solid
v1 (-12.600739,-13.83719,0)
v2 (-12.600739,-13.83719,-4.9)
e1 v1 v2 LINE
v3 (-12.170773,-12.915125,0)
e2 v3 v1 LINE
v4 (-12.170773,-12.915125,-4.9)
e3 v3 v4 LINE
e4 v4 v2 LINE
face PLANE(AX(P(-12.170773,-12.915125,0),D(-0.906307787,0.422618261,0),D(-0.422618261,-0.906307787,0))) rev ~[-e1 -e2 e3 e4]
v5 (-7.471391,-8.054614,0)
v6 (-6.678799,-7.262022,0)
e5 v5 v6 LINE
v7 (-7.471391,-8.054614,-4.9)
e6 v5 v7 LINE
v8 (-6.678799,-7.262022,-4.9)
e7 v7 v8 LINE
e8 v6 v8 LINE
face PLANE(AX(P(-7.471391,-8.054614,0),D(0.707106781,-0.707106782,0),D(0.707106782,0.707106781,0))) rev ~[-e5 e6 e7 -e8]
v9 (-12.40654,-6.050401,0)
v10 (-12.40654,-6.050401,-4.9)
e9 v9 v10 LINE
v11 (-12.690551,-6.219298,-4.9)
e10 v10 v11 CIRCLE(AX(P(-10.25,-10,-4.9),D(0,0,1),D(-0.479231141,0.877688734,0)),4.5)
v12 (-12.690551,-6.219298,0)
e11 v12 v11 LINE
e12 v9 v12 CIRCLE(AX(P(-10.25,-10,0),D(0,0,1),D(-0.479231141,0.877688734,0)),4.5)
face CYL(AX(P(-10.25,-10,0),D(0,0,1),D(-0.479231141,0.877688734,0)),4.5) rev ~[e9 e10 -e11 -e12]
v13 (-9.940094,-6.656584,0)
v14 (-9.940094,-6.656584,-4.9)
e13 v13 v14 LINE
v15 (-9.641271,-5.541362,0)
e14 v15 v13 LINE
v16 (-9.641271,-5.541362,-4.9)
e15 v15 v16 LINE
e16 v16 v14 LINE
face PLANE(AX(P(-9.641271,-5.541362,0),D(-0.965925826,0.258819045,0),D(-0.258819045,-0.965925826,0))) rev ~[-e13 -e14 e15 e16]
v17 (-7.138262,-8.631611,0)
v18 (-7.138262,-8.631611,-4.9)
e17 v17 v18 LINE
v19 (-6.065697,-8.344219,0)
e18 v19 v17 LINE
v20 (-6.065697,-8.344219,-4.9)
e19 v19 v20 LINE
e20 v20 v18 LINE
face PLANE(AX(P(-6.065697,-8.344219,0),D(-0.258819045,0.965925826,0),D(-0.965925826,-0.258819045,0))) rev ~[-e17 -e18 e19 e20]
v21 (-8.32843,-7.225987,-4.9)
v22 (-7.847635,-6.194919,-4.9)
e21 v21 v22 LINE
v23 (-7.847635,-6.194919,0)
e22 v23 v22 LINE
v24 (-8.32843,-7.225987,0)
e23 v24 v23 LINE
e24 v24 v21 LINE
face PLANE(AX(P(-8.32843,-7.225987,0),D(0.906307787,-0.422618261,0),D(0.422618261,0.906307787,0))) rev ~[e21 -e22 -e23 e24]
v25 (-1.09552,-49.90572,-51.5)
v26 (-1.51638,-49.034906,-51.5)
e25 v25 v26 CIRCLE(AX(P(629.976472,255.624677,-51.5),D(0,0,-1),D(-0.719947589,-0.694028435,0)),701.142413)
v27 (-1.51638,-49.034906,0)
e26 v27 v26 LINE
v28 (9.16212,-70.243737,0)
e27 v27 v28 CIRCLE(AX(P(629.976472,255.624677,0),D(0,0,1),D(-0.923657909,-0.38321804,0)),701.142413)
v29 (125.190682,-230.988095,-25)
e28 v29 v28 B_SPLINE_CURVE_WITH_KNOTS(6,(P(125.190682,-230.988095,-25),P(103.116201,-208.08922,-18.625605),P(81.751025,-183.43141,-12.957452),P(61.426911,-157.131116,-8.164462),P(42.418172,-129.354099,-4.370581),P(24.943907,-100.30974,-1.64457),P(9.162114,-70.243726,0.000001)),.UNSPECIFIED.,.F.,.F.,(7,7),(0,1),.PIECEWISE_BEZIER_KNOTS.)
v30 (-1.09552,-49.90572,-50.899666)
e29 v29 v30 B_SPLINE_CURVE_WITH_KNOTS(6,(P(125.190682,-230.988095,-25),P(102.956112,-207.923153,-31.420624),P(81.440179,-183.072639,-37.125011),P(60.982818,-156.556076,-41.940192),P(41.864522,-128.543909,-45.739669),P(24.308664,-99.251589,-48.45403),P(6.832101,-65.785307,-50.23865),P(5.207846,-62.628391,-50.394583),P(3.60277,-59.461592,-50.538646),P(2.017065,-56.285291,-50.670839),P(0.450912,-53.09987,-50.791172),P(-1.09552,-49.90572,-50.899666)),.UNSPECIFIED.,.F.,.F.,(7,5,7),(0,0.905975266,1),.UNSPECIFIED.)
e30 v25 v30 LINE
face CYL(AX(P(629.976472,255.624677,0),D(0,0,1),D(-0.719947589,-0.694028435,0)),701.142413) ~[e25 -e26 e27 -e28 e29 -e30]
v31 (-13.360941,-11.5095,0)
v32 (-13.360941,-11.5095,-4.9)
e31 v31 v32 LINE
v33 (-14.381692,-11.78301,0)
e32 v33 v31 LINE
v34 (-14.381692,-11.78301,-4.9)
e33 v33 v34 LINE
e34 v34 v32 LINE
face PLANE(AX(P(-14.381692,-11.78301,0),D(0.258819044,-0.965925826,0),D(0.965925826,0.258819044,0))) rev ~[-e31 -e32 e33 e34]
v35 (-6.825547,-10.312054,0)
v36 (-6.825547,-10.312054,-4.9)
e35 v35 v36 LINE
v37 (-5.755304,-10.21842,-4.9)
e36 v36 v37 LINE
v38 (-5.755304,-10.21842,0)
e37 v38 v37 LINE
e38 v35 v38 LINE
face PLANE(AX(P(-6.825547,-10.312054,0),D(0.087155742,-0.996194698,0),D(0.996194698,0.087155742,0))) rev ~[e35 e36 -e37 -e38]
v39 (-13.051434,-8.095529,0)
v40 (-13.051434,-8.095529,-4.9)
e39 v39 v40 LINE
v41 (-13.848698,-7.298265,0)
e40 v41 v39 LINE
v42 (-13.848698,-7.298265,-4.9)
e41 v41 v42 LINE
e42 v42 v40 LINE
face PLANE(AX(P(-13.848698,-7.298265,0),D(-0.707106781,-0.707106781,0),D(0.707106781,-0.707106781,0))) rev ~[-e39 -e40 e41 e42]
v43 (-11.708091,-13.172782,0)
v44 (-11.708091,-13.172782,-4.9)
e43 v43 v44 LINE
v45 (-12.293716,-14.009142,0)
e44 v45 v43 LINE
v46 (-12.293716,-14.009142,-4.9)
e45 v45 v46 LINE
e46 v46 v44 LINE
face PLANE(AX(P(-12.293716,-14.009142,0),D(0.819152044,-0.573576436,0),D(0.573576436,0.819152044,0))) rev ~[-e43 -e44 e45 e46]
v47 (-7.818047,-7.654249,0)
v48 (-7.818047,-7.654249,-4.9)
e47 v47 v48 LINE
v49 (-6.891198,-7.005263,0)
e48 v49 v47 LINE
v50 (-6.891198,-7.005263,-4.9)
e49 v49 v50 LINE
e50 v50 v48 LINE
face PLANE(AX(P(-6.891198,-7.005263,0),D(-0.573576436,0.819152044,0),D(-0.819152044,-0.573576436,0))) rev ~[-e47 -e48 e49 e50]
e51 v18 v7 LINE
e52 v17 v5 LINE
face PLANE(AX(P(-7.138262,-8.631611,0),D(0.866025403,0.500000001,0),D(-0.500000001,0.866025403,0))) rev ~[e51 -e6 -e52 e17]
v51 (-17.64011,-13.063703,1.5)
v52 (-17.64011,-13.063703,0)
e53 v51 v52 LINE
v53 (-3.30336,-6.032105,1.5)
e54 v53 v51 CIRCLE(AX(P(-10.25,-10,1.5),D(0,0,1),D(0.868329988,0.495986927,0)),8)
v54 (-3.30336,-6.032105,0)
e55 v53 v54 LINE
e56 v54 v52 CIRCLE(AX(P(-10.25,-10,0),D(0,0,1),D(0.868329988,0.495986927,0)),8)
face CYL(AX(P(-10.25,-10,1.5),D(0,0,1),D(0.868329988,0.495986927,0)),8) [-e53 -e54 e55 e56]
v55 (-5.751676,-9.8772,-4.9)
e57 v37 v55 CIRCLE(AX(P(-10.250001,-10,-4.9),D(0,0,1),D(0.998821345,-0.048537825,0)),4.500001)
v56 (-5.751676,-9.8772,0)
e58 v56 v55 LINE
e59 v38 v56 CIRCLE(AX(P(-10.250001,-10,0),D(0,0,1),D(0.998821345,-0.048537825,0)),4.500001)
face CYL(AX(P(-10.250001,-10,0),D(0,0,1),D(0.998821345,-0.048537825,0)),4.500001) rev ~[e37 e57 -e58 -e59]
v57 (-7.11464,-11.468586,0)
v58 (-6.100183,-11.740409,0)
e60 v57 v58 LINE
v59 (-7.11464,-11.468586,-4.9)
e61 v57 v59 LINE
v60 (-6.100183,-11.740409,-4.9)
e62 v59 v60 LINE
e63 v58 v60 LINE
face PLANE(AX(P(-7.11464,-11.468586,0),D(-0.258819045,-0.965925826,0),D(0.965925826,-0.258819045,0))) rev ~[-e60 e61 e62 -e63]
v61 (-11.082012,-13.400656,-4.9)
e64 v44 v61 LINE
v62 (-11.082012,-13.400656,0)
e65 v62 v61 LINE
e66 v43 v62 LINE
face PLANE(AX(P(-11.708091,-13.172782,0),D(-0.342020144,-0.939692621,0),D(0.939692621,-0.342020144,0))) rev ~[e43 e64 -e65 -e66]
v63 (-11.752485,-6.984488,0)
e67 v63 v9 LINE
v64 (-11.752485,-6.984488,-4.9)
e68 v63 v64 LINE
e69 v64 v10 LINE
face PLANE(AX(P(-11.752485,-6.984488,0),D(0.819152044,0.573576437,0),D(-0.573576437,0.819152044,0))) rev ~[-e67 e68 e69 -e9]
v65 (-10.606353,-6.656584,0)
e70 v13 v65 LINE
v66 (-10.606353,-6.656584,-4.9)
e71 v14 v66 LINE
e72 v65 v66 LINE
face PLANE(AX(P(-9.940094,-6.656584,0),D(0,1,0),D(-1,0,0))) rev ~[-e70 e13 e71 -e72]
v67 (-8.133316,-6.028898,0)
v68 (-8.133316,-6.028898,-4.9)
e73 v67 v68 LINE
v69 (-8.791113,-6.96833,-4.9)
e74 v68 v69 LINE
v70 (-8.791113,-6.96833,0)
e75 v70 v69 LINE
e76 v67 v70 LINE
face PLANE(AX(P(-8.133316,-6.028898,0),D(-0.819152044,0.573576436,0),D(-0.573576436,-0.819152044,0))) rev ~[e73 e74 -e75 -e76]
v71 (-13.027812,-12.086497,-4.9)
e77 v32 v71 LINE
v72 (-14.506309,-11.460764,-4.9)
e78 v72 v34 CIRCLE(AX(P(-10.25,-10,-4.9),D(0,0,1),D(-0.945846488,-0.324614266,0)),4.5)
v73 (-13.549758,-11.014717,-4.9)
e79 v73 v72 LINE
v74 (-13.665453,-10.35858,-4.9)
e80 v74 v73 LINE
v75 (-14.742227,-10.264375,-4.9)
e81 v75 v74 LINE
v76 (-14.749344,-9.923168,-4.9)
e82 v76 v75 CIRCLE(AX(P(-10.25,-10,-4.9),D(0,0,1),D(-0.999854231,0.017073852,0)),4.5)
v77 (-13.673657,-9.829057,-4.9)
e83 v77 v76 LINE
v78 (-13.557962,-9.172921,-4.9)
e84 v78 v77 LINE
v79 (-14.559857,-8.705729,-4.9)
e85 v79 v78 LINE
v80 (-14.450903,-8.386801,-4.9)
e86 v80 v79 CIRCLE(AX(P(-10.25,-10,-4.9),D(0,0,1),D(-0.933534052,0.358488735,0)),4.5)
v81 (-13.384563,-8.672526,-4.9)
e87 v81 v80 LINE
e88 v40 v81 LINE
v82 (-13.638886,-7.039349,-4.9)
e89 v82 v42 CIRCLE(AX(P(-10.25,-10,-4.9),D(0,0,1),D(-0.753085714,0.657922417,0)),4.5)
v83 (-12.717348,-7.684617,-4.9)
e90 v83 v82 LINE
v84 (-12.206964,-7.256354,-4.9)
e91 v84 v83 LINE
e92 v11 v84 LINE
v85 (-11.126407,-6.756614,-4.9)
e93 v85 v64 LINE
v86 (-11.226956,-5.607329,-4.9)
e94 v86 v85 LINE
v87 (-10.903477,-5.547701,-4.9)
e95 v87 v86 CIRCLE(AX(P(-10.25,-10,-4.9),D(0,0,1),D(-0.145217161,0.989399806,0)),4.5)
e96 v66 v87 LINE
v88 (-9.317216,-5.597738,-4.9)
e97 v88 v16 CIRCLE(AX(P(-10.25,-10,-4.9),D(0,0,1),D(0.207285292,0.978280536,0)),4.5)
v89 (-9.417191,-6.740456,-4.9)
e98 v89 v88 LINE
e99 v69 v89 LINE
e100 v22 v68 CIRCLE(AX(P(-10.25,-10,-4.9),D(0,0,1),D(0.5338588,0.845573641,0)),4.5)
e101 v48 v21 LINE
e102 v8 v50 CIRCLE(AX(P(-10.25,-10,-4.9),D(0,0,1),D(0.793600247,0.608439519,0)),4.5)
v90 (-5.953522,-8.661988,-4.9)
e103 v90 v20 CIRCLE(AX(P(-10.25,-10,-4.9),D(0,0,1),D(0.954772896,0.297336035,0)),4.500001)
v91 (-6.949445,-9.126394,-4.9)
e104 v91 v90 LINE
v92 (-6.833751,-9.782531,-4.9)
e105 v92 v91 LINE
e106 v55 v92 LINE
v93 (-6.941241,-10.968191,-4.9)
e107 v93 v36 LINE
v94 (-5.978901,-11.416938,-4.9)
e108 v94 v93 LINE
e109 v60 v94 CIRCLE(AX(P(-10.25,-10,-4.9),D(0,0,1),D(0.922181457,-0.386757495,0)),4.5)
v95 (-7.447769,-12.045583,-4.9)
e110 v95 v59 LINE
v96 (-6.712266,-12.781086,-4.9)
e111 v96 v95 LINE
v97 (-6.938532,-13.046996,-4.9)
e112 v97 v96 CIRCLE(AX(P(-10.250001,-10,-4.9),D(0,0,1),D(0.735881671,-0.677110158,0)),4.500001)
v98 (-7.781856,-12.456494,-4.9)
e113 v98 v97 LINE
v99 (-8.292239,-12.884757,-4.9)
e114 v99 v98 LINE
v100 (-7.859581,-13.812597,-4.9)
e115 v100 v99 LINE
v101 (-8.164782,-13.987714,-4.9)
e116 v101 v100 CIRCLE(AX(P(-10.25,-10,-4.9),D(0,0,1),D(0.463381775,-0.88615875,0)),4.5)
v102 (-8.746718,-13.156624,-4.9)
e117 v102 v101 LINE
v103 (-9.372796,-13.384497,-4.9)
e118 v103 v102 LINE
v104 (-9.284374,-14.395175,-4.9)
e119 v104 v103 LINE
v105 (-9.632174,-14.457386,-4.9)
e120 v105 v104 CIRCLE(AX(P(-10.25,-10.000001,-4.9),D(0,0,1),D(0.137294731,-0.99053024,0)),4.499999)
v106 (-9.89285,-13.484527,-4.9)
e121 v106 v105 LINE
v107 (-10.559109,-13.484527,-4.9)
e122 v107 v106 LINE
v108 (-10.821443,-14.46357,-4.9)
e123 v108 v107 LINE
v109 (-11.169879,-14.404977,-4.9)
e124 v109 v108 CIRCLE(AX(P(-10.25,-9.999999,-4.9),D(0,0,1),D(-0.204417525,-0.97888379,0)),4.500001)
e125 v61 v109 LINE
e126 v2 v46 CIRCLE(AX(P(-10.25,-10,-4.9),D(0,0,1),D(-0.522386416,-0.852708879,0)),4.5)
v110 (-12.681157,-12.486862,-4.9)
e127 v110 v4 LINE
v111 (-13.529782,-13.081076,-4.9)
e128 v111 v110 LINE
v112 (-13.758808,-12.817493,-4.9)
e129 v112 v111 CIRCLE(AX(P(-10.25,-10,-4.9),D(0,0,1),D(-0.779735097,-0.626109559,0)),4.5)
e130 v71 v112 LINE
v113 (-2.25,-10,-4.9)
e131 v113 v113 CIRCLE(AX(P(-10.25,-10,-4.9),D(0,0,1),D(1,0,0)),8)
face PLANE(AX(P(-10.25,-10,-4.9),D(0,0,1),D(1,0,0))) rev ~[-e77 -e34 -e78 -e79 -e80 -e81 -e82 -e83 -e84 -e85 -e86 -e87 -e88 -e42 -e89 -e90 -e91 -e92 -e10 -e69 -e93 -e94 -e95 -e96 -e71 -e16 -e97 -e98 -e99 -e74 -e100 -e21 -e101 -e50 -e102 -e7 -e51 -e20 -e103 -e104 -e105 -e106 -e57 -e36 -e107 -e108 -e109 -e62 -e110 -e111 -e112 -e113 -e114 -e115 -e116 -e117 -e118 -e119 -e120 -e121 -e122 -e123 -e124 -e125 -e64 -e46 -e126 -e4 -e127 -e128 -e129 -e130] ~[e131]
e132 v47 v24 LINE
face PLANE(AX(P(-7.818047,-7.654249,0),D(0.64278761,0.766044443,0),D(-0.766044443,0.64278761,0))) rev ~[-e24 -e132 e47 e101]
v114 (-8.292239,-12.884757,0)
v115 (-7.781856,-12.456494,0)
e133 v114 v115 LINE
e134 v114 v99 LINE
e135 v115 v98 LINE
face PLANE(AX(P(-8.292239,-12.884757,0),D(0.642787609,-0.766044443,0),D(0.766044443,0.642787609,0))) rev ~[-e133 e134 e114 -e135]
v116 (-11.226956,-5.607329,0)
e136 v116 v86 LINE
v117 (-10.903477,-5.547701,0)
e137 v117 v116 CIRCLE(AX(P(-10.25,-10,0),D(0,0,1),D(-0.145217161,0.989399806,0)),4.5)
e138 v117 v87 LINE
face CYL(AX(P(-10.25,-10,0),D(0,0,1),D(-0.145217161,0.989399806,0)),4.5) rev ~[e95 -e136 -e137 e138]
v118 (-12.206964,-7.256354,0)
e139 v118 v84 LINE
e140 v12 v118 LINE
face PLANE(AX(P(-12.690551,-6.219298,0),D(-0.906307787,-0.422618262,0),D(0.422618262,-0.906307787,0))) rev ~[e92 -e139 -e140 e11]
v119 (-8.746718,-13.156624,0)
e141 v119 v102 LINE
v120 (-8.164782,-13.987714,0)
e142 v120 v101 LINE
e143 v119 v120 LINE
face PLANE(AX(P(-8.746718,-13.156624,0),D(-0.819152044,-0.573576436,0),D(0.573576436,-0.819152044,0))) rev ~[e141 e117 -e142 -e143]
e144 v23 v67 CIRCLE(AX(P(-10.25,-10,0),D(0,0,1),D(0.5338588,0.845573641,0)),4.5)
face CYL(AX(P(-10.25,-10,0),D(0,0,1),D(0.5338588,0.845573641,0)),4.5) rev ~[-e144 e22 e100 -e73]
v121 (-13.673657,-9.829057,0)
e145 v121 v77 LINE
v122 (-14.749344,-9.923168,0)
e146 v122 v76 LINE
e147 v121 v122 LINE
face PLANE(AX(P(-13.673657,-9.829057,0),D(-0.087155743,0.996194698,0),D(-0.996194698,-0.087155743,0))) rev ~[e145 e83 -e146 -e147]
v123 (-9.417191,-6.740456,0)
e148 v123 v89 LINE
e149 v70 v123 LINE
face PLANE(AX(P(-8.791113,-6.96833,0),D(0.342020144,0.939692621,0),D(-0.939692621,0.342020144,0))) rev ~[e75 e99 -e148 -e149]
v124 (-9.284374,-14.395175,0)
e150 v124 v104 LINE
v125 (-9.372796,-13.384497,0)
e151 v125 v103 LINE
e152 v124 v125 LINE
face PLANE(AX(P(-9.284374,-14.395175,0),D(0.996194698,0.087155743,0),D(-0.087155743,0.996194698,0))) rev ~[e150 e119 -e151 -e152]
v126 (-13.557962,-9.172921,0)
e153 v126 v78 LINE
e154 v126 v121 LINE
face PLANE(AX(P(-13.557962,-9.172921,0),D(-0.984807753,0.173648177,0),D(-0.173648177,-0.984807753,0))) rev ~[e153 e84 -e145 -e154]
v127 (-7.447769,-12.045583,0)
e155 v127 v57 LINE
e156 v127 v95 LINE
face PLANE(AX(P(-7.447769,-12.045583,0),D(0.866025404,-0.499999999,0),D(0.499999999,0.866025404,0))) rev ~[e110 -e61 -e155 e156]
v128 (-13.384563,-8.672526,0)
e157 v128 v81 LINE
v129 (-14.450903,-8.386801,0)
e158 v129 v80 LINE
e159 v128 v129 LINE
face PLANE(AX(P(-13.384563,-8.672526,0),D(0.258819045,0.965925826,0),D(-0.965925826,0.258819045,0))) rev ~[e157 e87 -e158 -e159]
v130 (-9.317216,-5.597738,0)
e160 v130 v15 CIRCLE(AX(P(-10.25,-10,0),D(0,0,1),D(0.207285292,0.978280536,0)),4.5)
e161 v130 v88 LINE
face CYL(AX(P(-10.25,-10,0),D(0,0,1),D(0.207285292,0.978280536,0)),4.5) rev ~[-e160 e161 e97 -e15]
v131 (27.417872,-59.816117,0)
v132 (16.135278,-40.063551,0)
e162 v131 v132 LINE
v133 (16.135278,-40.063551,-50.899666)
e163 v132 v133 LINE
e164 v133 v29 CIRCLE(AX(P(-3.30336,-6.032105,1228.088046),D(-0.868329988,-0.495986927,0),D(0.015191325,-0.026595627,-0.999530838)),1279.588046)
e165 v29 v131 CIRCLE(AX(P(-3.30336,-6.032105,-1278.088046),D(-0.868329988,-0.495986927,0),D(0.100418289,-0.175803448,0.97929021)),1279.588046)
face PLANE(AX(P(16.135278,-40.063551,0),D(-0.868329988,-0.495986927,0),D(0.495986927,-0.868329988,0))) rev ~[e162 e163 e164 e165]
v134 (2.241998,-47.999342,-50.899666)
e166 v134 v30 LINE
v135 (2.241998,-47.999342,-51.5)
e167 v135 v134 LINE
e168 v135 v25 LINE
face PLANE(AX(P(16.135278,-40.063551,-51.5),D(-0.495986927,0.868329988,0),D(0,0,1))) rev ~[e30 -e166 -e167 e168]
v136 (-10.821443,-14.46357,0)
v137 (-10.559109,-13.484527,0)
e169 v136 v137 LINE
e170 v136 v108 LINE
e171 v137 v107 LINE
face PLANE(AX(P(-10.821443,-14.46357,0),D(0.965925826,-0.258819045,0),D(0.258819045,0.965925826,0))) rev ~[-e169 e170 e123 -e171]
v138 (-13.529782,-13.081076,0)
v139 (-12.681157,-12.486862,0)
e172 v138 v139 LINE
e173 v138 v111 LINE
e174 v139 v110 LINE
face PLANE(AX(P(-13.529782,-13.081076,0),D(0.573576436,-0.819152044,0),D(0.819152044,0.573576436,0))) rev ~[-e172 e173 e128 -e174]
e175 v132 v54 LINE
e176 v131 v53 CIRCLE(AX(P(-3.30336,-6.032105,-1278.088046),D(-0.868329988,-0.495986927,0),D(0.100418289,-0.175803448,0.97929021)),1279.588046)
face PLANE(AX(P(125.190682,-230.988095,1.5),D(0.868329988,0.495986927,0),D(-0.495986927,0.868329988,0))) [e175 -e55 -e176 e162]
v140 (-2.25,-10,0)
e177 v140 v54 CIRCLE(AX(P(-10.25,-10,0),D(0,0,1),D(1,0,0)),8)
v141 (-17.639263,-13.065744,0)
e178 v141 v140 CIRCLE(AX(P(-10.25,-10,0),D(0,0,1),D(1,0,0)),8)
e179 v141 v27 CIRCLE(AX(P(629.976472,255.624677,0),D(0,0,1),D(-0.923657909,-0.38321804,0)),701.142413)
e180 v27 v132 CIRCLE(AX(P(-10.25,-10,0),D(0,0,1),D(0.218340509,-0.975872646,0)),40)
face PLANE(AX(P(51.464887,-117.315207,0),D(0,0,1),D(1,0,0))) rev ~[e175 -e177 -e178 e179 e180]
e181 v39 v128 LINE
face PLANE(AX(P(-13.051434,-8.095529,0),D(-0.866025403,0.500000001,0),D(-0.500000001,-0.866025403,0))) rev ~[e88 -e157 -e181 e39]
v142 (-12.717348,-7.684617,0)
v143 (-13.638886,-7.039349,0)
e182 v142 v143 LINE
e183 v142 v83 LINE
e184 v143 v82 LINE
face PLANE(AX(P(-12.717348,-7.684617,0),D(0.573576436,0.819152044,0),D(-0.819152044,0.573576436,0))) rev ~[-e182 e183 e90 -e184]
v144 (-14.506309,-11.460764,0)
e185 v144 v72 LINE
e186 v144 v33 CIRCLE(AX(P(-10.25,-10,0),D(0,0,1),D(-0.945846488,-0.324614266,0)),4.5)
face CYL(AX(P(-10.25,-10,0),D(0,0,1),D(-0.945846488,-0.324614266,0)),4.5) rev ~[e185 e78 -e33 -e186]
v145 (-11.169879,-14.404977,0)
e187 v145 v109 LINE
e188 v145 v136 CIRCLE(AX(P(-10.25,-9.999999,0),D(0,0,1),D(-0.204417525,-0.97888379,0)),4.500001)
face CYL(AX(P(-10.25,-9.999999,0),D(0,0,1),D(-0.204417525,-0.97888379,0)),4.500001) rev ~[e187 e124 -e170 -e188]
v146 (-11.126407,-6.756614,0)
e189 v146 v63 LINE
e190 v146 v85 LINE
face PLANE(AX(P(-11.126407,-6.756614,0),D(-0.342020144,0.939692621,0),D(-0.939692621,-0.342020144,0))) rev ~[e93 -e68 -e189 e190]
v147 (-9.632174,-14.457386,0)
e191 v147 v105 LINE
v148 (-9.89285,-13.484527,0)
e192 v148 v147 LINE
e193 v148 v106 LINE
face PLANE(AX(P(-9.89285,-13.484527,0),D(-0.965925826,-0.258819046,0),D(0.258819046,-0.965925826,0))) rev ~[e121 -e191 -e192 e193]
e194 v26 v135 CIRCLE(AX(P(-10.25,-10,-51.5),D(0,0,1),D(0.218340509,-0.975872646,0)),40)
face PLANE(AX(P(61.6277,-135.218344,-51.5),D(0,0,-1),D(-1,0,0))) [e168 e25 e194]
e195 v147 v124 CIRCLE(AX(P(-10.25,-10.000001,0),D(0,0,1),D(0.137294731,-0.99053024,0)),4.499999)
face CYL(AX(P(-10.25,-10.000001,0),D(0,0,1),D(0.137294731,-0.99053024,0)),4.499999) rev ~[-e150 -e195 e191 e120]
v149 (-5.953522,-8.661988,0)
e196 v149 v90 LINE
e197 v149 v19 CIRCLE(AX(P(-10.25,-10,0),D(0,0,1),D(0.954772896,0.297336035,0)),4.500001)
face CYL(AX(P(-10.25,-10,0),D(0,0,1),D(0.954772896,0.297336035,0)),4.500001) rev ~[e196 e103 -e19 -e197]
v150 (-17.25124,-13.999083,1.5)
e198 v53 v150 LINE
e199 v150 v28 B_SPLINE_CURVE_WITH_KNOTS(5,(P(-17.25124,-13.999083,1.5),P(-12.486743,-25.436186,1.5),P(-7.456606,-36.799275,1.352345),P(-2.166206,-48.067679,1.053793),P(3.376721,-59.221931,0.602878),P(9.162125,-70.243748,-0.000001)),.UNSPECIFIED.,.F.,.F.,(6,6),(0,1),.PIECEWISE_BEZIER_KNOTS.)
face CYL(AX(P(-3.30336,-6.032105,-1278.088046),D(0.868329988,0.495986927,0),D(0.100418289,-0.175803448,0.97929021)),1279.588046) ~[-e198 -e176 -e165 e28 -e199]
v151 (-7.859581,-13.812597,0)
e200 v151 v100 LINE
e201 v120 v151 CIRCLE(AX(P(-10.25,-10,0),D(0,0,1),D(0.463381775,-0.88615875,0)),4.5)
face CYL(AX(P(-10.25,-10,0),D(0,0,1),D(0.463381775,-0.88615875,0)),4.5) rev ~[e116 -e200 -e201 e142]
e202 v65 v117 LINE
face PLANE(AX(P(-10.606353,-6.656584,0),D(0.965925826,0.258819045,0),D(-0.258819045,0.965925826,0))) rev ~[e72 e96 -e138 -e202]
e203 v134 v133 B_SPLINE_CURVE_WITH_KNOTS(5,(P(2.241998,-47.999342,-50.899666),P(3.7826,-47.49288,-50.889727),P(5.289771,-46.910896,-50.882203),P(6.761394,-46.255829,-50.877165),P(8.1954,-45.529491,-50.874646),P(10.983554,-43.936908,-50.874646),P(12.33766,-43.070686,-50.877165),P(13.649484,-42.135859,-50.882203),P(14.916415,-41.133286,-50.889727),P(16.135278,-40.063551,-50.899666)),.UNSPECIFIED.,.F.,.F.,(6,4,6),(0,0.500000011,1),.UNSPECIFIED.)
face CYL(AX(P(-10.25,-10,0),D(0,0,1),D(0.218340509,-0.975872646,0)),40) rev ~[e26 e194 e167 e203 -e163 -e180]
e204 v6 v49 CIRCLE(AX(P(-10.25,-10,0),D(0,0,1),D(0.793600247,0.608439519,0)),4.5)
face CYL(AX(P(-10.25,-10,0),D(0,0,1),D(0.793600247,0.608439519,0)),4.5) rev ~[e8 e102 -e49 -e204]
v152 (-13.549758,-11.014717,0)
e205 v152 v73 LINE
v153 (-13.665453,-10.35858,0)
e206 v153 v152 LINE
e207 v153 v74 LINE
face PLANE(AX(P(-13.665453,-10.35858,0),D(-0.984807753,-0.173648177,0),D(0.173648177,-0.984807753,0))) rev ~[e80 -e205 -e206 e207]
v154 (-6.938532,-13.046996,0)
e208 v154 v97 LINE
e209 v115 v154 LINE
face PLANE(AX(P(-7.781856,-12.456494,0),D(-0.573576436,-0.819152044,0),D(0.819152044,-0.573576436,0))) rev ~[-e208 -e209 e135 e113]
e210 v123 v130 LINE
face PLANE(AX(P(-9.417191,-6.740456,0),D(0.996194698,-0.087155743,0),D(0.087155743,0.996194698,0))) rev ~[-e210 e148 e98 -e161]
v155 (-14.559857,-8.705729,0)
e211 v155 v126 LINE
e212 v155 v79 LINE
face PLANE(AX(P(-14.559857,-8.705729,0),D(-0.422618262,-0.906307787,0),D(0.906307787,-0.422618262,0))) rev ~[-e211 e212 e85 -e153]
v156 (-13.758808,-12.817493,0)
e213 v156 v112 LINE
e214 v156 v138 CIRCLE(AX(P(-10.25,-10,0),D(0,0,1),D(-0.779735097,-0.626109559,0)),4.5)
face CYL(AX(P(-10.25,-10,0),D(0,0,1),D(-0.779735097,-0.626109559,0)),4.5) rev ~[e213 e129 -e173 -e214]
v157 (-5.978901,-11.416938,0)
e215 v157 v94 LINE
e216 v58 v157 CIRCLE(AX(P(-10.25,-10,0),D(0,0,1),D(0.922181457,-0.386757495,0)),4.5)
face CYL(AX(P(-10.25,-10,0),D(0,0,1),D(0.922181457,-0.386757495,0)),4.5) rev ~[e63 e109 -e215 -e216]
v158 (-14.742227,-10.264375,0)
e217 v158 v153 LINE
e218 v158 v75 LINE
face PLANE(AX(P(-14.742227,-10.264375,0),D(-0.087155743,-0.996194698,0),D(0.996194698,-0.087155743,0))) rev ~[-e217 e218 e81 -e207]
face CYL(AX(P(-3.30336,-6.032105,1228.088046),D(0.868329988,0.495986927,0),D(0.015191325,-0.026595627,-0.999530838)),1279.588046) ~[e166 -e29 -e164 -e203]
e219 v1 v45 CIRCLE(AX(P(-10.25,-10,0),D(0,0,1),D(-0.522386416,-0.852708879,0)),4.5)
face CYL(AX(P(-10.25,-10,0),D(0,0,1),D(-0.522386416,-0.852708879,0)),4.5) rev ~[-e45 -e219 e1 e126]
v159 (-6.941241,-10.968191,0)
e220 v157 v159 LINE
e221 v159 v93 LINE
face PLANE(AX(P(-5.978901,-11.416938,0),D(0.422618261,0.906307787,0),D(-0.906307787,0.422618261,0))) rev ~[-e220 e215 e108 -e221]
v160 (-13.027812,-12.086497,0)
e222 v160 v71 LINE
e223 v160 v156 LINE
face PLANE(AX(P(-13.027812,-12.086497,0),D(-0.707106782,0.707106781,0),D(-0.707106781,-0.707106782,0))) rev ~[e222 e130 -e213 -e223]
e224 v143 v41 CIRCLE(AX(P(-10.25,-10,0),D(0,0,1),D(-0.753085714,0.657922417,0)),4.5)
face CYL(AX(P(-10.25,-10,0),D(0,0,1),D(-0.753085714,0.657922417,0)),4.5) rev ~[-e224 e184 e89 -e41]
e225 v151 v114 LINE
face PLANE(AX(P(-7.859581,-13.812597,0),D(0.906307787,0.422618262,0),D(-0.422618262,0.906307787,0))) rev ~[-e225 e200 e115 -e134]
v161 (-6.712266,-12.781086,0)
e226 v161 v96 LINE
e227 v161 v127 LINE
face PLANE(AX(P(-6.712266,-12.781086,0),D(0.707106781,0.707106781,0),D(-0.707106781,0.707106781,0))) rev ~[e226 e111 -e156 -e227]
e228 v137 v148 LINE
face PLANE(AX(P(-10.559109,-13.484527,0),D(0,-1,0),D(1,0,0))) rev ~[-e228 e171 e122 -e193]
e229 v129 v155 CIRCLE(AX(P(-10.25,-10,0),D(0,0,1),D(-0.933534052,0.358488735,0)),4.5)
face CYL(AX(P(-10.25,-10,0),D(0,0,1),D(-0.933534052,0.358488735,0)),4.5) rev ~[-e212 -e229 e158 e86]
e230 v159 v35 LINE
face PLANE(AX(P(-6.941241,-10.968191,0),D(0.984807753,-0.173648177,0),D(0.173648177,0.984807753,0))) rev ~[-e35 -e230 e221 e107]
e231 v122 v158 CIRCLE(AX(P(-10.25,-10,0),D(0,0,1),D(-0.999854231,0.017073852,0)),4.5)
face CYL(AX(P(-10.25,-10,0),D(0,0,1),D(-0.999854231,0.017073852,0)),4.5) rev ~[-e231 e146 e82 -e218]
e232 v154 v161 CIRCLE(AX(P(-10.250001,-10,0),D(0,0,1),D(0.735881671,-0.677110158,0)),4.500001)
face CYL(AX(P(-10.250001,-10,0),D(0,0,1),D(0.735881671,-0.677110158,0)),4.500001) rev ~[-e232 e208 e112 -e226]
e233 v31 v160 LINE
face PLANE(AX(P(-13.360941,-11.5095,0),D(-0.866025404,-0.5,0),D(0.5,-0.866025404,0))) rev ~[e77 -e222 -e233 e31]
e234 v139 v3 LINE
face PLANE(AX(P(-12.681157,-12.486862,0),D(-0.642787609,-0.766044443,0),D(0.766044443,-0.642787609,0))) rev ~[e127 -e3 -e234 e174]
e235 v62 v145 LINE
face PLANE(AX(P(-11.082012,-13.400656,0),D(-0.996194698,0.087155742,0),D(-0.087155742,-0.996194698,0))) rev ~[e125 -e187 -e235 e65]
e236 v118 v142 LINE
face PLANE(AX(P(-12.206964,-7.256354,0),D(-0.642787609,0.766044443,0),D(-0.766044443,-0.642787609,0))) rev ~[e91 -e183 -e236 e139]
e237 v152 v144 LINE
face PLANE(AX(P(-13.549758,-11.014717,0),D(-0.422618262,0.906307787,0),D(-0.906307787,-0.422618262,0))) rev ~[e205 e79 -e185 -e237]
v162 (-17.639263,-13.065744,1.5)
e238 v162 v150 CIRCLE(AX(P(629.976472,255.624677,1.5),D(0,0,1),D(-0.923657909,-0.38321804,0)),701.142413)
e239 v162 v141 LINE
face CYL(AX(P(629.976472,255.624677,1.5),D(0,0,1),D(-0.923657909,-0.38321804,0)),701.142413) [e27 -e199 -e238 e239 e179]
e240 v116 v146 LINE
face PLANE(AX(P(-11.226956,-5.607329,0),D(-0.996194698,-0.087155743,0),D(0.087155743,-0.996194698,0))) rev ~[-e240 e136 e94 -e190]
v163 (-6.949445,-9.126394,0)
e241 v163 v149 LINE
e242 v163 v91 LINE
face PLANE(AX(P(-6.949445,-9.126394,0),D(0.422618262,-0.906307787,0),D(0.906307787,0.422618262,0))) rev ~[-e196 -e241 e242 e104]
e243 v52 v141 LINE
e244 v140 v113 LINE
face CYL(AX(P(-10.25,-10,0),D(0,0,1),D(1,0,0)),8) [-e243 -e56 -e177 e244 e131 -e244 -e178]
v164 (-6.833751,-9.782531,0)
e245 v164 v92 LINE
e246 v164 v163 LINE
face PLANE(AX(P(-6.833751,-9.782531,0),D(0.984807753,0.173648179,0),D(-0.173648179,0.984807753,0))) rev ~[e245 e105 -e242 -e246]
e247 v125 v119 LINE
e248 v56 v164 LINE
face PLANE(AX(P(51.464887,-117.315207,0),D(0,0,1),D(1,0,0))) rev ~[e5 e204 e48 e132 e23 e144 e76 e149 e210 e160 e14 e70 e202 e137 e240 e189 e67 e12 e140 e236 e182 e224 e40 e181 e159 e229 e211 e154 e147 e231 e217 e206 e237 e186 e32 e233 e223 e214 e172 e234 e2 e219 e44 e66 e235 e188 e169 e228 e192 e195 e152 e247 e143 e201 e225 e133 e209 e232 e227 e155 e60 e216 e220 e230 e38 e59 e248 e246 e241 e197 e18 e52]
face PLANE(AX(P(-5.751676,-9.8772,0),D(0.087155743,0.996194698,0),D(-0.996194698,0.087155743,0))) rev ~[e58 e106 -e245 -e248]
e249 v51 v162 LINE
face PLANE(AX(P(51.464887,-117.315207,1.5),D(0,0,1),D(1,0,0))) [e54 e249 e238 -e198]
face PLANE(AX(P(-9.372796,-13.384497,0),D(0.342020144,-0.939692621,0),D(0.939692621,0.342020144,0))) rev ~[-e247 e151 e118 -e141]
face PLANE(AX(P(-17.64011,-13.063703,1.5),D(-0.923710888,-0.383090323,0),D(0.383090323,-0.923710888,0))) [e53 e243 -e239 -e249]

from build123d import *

# Parameters (mm, degrees)
ESQUISSE1_R             = 8
BOSS_EXTRU_1_DEPTH      = 4.9
BOSS_EXTRU_2_START      = 1.5
BOSS_EXTRU_2_DEPTH      = 1.5
BOSS_EXTRU_3_DEPTH      = 51.5
ENL_V_MAT_EXTRU_1_DEPTH = 25


with BuildPart() as part:
    # Esquisse1 → Boss.-Extru.1 (new body)
    with BuildSketch(Plane.XY):
        with Locations((-10.25, -10)):
            Circle(ESQUISSE1_R)
        with BuildLine():
            Line((-5.751675839, -9.877200395), (-6.833750507, -9.782531128))
            Line((-6.833750507, -9.782531128), (-6.949445107, -9.126394451))
            Line((-6.949445107, -9.126394451), (-5.953521963, -8.661987862))
            ThreePointArc((-5.953521963, -8.661987862), (-6.006634107, -8.502052772), (-6.065697468, -8.344218516))
            Line((-6.065697468, -8.344218516), (-7.138261768, -8.631611254))
            Line((-7.138261768, -8.631611254), (-7.47139109, -8.054614344))
            Line((-7.47139109, -8.054614344), (-6.678798898, -7.262022153))
            ThreePointArc((-6.678798898, -7.262022153), (-6.782621037, -7.131675902), (-6.891198054, -7.005263035))
            Line((-6.891198054, -7.005263035), (-7.818046533, -7.654249327))
            Line((-7.818046533, -7.654249327), (-8.328430264, -7.225986526))
            Line((-8.328430264, -7.225986526), (-7.847635402, -6.194918616))
            ThreePointArc((-7.847635402, -6.194918616), (-7.988951343, -6.109285545), (-8.133315872, -6.028898352))
            Line((-8.133315872, -6.028898352), (-8.791112727, -6.968329619))
            Line((-8.791112727, -6.968329619), (-9.417191057, -6.740455742))
            Line((-9.417191057, -6.740455742), (-9.317216173, -5.597737589))
            ThreePointArc((-9.317216173, -5.597737589), (-9.478728542, -5.566588183), (-9.641271425, -5.541362369))
            Line((-9.641271425, -5.541362369), (-9.940094206, -6.656584169))
            Line((-9.940094206, -6.656584169), (-10.606352849, -6.656584169))
            Line((-10.606352849, -6.656584169), (-10.903477232, -5.547700874))
            ThreePointArc((-10.903477232, -5.547700874), (-11.065761738, -5.574558464), (-11.226956242, -5.607329229))
            Line((-11.226956242, -5.607329229), (-11.126406846, -6.756614081))
            Line((-11.126406846, -6.756614081), (-11.752485176, -6.984487958))
            Line((-11.752485176, -6.984487958), (-12.406540122, -6.050400691))
            ThreePointArc((-12.406540122, -6.050400691), (-12.550096477, -6.132241451), (-12.690551241, -6.219297732))
            Line((-12.690551241, -6.219297732), (-12.206963835, -7.256354271))
            Line((-12.206963835, -7.256354271), (-12.717347566, -7.684617071))
            Line((-12.717347566, -7.684617071), (-13.638885709, -7.039349117))
            ThreePointArc((-13.638885709, -7.039349117), (-13.74618945, -7.166864047), (-13.848697947, -7.298264801))
            Line((-13.848697947, -7.298264801), (-13.051434053, -8.095528695))
            Line((-13.051434053, -8.095528695), (-13.384563375, -8.672525605))
            Line((-13.384563375, -8.672525605), (-14.450903238, -8.3868007))
            ThreePointArc((-14.450903238, -8.3868007), (-14.508366703, -8.545244687), (-14.559856563, -8.705729393))
            Line((-14.559856563, -8.705729393), (-13.557961929, -9.172920534))
            Line((-13.557961929, -9.172920534), (-13.673656528, -9.829057211))
            Line((-13.673656528, -9.829057211), (-14.74934404, -9.923167674))
            ThreePointArc((-14.74934404, -9.923167674), (-14.749021481, -10.093838761), (-14.74222728, -10.264374865))
            Line((-14.74222728, -10.264374865), (-13.665452724, -10.358580432))
            Line((-13.665452724, -10.358580432), (-13.549758125, -11.014717109))
            Line((-13.549758125, -11.014717109), (-14.506309194, -11.460764198))
            ThreePointArc((-14.506309194, -11.460764198), (-14.447094307, -11.623083293), (-14.381691786, -11.78300953))
            Line((-14.381691786, -11.78300953), (-13.360941463, -11.509500306))
            Line((-13.360941463, -11.509500306), (-13.027812142, -12.086497216))
            Line((-13.027812142, -12.086497216), (-13.758807936, -12.817493011))
            ThreePointArc((-13.758807936, -12.817493011), (-13.646852578, -12.951506829), (-13.529782028, -13.081076086))
            Line((-13.529782028, -13.081076086), (-12.681156698, -12.486862233))
            Line((-12.681156698, -12.486862233), (-12.170772967, -12.915125033))
            Line((-12.170772967, -12.915125033), (-12.600738895, -13.837189942))
            ThreePointArc((-12.600738895, -13.837189942), (-12.448909121, -13.926168447), (-12.293716433, -14.009142444))
            Line((-12.293716433, -14.009142444), (-11.708090504, -13.172781941))
            Line((-11.708090504, -13.172781941), (-11.082012174, -13.400655818))
            Line((-11.082012174, -13.400655818), (-11.169878896, -14.404977051))
            ThreePointArc((-11.169878896, -14.404977051), (-10.996236031, -14.437694422), (-10.821442589, -14.463569577))
            Line((-10.821442589, -14.463569577), (-10.559109026, -13.48452739))
            Line((-10.559109026, -13.48452739), (-9.892850383, -13.48452739))
            Line((-9.892850383, -13.48452739), (-9.632173683, -14.457386077))
            ThreePointArc((-9.632173683, -14.457386077), (-9.45766281, -14.42969545), (-9.284373537, -14.395175256))
            Line((-9.284373537, -14.395175256), (-9.372796385, -13.384497479))
            Line((-9.372796385, -13.384497479), (-8.746718055, -13.156623602))
            Line((-8.746718055, -13.156623602), (-8.164782025, -13.987714383))
            ThreePointArc((-8.164782025, -13.987714383), (-8.010469052, -13.903139907), (-7.859580663, -13.812596936))
            Line((-7.859580663, -13.812596936), (-8.292239396, -12.884757289))
            Line((-8.292239396, -12.884757289), (-7.781855665, -12.456494489))
            Line((-7.781855665, -12.456494489), (-6.938532496, -13.046995729))
            ThreePointArc((-6.938532496, -13.046995729), (-6.822819391, -12.916236114), (-6.712266113, -12.78108593))
            Line((-6.712266113, -12.78108593), (-7.447769178, -12.045582865))
            Line((-7.447769178, -12.045582865), (-7.114639857, -11.468585954))
            Line((-7.114639857, -11.468585954), (-6.100183444, -11.740408731))
            ThreePointArc((-6.100183444, -11.740408731), (-6.036436962, -11.579837499), (-5.978900904, -11.416937723))
            Line((-5.978900904, -11.416937723), (-6.941241303, -10.968191026))
            Line((-6.941241303, -10.968191026), (-6.825546704, -10.312054348))
            Line((-6.825546704, -10.312054348), (-5.755303948, -10.21842024))
            ThreePointArc((-5.755303948, -10.21842024), (-5.750254354, -10.04784472), (-5.751675839, -9.877200395))
        make_face(mode=Mode.SUBTRACT)
    extrude(amount=-BOSS_EXTRU_1_DEPTH)

    # Esquisse2 → Boss.-Extru.2 (add)
    with BuildSketch(Plane.XY.offset(BOSS_EXTRU_2_START)):
        with BuildLine():
            ThreePointArc((-3.303360096, -6.032104583), (-13.772784459, -2.817382813), (-17.640109889, -13.06370296))
            Line((-17.640109889, -13.06370296), (-17.639263276, -13.065744321))
            ThreePointArc((-17.639263276, -13.065744321), (43.56377057, -128.719994734), (125.190682292, -230.988094713))
            Line((125.190682292, -230.988094713), (-3.303360096, -6.032104583))
        make_face()
    extrude(amount=-BOSS_EXTRU_2_DEPTH)

    # Esquisse3 → Boss.-Extru.3 (add)
    with BuildSketch(Plane(origin=(0, 0, 0), x_dir=(-1, 0, 0), z_dir=(0, 0, -1))):
        with BuildLine():
            Line((-16.135278154, -40.063550967), (-125.190682292, -230.988094713))
            ThreePointArc((-125.190682292, -230.988094713), (-54.599179759, -145.051819269), (1.516379631, -49.034905857))
            ThreePointArc((1.516379631, -49.034905857), (-7.873342973, -45.658721787), (-16.135278154, -40.063550967))
        make_face()
    extrude(amount=BOSS_EXTRU_3_DEPTH)

    # Esquisse4 → Enlèv. mat.-Extru.1 (cut)
    with BuildSketch(Plane(origin=(-5.088632244, -2.906608208, 0), x_dir=(0, 0, -1), z_dir=(0.8683299880241373, 0.4959869271442563, 0))):
        with BuildLine():
            Line((-1.5, -3.599433877), (-1.5, -262.666831333))
            Line((-1.5, -262.666831333), (25, -262.666831333))
            ThreePointArc((25, -262.666831333), (5.142239669, -133.809040305), (-1.5, -3.599433877))
        make_face()
        with BuildLine():
            ThreePointArc((50.899666007, -42.791269762), (42.714152109, -153.29025104), (25, -262.666831333))
            Line((25, -262.666831333), (51.5, -262.666831333))
            Line((51.5, -262.666831333), (51.5, -42.791269762))
            Line((51.5, -42.791269762), (50.899666007, -42.791269762))
        make_face()
    extrude(amount=-ENL_V_MAT_EXTRU_1_DEPTH, mode=Mode.SUBTRACT)


solid = part.part
